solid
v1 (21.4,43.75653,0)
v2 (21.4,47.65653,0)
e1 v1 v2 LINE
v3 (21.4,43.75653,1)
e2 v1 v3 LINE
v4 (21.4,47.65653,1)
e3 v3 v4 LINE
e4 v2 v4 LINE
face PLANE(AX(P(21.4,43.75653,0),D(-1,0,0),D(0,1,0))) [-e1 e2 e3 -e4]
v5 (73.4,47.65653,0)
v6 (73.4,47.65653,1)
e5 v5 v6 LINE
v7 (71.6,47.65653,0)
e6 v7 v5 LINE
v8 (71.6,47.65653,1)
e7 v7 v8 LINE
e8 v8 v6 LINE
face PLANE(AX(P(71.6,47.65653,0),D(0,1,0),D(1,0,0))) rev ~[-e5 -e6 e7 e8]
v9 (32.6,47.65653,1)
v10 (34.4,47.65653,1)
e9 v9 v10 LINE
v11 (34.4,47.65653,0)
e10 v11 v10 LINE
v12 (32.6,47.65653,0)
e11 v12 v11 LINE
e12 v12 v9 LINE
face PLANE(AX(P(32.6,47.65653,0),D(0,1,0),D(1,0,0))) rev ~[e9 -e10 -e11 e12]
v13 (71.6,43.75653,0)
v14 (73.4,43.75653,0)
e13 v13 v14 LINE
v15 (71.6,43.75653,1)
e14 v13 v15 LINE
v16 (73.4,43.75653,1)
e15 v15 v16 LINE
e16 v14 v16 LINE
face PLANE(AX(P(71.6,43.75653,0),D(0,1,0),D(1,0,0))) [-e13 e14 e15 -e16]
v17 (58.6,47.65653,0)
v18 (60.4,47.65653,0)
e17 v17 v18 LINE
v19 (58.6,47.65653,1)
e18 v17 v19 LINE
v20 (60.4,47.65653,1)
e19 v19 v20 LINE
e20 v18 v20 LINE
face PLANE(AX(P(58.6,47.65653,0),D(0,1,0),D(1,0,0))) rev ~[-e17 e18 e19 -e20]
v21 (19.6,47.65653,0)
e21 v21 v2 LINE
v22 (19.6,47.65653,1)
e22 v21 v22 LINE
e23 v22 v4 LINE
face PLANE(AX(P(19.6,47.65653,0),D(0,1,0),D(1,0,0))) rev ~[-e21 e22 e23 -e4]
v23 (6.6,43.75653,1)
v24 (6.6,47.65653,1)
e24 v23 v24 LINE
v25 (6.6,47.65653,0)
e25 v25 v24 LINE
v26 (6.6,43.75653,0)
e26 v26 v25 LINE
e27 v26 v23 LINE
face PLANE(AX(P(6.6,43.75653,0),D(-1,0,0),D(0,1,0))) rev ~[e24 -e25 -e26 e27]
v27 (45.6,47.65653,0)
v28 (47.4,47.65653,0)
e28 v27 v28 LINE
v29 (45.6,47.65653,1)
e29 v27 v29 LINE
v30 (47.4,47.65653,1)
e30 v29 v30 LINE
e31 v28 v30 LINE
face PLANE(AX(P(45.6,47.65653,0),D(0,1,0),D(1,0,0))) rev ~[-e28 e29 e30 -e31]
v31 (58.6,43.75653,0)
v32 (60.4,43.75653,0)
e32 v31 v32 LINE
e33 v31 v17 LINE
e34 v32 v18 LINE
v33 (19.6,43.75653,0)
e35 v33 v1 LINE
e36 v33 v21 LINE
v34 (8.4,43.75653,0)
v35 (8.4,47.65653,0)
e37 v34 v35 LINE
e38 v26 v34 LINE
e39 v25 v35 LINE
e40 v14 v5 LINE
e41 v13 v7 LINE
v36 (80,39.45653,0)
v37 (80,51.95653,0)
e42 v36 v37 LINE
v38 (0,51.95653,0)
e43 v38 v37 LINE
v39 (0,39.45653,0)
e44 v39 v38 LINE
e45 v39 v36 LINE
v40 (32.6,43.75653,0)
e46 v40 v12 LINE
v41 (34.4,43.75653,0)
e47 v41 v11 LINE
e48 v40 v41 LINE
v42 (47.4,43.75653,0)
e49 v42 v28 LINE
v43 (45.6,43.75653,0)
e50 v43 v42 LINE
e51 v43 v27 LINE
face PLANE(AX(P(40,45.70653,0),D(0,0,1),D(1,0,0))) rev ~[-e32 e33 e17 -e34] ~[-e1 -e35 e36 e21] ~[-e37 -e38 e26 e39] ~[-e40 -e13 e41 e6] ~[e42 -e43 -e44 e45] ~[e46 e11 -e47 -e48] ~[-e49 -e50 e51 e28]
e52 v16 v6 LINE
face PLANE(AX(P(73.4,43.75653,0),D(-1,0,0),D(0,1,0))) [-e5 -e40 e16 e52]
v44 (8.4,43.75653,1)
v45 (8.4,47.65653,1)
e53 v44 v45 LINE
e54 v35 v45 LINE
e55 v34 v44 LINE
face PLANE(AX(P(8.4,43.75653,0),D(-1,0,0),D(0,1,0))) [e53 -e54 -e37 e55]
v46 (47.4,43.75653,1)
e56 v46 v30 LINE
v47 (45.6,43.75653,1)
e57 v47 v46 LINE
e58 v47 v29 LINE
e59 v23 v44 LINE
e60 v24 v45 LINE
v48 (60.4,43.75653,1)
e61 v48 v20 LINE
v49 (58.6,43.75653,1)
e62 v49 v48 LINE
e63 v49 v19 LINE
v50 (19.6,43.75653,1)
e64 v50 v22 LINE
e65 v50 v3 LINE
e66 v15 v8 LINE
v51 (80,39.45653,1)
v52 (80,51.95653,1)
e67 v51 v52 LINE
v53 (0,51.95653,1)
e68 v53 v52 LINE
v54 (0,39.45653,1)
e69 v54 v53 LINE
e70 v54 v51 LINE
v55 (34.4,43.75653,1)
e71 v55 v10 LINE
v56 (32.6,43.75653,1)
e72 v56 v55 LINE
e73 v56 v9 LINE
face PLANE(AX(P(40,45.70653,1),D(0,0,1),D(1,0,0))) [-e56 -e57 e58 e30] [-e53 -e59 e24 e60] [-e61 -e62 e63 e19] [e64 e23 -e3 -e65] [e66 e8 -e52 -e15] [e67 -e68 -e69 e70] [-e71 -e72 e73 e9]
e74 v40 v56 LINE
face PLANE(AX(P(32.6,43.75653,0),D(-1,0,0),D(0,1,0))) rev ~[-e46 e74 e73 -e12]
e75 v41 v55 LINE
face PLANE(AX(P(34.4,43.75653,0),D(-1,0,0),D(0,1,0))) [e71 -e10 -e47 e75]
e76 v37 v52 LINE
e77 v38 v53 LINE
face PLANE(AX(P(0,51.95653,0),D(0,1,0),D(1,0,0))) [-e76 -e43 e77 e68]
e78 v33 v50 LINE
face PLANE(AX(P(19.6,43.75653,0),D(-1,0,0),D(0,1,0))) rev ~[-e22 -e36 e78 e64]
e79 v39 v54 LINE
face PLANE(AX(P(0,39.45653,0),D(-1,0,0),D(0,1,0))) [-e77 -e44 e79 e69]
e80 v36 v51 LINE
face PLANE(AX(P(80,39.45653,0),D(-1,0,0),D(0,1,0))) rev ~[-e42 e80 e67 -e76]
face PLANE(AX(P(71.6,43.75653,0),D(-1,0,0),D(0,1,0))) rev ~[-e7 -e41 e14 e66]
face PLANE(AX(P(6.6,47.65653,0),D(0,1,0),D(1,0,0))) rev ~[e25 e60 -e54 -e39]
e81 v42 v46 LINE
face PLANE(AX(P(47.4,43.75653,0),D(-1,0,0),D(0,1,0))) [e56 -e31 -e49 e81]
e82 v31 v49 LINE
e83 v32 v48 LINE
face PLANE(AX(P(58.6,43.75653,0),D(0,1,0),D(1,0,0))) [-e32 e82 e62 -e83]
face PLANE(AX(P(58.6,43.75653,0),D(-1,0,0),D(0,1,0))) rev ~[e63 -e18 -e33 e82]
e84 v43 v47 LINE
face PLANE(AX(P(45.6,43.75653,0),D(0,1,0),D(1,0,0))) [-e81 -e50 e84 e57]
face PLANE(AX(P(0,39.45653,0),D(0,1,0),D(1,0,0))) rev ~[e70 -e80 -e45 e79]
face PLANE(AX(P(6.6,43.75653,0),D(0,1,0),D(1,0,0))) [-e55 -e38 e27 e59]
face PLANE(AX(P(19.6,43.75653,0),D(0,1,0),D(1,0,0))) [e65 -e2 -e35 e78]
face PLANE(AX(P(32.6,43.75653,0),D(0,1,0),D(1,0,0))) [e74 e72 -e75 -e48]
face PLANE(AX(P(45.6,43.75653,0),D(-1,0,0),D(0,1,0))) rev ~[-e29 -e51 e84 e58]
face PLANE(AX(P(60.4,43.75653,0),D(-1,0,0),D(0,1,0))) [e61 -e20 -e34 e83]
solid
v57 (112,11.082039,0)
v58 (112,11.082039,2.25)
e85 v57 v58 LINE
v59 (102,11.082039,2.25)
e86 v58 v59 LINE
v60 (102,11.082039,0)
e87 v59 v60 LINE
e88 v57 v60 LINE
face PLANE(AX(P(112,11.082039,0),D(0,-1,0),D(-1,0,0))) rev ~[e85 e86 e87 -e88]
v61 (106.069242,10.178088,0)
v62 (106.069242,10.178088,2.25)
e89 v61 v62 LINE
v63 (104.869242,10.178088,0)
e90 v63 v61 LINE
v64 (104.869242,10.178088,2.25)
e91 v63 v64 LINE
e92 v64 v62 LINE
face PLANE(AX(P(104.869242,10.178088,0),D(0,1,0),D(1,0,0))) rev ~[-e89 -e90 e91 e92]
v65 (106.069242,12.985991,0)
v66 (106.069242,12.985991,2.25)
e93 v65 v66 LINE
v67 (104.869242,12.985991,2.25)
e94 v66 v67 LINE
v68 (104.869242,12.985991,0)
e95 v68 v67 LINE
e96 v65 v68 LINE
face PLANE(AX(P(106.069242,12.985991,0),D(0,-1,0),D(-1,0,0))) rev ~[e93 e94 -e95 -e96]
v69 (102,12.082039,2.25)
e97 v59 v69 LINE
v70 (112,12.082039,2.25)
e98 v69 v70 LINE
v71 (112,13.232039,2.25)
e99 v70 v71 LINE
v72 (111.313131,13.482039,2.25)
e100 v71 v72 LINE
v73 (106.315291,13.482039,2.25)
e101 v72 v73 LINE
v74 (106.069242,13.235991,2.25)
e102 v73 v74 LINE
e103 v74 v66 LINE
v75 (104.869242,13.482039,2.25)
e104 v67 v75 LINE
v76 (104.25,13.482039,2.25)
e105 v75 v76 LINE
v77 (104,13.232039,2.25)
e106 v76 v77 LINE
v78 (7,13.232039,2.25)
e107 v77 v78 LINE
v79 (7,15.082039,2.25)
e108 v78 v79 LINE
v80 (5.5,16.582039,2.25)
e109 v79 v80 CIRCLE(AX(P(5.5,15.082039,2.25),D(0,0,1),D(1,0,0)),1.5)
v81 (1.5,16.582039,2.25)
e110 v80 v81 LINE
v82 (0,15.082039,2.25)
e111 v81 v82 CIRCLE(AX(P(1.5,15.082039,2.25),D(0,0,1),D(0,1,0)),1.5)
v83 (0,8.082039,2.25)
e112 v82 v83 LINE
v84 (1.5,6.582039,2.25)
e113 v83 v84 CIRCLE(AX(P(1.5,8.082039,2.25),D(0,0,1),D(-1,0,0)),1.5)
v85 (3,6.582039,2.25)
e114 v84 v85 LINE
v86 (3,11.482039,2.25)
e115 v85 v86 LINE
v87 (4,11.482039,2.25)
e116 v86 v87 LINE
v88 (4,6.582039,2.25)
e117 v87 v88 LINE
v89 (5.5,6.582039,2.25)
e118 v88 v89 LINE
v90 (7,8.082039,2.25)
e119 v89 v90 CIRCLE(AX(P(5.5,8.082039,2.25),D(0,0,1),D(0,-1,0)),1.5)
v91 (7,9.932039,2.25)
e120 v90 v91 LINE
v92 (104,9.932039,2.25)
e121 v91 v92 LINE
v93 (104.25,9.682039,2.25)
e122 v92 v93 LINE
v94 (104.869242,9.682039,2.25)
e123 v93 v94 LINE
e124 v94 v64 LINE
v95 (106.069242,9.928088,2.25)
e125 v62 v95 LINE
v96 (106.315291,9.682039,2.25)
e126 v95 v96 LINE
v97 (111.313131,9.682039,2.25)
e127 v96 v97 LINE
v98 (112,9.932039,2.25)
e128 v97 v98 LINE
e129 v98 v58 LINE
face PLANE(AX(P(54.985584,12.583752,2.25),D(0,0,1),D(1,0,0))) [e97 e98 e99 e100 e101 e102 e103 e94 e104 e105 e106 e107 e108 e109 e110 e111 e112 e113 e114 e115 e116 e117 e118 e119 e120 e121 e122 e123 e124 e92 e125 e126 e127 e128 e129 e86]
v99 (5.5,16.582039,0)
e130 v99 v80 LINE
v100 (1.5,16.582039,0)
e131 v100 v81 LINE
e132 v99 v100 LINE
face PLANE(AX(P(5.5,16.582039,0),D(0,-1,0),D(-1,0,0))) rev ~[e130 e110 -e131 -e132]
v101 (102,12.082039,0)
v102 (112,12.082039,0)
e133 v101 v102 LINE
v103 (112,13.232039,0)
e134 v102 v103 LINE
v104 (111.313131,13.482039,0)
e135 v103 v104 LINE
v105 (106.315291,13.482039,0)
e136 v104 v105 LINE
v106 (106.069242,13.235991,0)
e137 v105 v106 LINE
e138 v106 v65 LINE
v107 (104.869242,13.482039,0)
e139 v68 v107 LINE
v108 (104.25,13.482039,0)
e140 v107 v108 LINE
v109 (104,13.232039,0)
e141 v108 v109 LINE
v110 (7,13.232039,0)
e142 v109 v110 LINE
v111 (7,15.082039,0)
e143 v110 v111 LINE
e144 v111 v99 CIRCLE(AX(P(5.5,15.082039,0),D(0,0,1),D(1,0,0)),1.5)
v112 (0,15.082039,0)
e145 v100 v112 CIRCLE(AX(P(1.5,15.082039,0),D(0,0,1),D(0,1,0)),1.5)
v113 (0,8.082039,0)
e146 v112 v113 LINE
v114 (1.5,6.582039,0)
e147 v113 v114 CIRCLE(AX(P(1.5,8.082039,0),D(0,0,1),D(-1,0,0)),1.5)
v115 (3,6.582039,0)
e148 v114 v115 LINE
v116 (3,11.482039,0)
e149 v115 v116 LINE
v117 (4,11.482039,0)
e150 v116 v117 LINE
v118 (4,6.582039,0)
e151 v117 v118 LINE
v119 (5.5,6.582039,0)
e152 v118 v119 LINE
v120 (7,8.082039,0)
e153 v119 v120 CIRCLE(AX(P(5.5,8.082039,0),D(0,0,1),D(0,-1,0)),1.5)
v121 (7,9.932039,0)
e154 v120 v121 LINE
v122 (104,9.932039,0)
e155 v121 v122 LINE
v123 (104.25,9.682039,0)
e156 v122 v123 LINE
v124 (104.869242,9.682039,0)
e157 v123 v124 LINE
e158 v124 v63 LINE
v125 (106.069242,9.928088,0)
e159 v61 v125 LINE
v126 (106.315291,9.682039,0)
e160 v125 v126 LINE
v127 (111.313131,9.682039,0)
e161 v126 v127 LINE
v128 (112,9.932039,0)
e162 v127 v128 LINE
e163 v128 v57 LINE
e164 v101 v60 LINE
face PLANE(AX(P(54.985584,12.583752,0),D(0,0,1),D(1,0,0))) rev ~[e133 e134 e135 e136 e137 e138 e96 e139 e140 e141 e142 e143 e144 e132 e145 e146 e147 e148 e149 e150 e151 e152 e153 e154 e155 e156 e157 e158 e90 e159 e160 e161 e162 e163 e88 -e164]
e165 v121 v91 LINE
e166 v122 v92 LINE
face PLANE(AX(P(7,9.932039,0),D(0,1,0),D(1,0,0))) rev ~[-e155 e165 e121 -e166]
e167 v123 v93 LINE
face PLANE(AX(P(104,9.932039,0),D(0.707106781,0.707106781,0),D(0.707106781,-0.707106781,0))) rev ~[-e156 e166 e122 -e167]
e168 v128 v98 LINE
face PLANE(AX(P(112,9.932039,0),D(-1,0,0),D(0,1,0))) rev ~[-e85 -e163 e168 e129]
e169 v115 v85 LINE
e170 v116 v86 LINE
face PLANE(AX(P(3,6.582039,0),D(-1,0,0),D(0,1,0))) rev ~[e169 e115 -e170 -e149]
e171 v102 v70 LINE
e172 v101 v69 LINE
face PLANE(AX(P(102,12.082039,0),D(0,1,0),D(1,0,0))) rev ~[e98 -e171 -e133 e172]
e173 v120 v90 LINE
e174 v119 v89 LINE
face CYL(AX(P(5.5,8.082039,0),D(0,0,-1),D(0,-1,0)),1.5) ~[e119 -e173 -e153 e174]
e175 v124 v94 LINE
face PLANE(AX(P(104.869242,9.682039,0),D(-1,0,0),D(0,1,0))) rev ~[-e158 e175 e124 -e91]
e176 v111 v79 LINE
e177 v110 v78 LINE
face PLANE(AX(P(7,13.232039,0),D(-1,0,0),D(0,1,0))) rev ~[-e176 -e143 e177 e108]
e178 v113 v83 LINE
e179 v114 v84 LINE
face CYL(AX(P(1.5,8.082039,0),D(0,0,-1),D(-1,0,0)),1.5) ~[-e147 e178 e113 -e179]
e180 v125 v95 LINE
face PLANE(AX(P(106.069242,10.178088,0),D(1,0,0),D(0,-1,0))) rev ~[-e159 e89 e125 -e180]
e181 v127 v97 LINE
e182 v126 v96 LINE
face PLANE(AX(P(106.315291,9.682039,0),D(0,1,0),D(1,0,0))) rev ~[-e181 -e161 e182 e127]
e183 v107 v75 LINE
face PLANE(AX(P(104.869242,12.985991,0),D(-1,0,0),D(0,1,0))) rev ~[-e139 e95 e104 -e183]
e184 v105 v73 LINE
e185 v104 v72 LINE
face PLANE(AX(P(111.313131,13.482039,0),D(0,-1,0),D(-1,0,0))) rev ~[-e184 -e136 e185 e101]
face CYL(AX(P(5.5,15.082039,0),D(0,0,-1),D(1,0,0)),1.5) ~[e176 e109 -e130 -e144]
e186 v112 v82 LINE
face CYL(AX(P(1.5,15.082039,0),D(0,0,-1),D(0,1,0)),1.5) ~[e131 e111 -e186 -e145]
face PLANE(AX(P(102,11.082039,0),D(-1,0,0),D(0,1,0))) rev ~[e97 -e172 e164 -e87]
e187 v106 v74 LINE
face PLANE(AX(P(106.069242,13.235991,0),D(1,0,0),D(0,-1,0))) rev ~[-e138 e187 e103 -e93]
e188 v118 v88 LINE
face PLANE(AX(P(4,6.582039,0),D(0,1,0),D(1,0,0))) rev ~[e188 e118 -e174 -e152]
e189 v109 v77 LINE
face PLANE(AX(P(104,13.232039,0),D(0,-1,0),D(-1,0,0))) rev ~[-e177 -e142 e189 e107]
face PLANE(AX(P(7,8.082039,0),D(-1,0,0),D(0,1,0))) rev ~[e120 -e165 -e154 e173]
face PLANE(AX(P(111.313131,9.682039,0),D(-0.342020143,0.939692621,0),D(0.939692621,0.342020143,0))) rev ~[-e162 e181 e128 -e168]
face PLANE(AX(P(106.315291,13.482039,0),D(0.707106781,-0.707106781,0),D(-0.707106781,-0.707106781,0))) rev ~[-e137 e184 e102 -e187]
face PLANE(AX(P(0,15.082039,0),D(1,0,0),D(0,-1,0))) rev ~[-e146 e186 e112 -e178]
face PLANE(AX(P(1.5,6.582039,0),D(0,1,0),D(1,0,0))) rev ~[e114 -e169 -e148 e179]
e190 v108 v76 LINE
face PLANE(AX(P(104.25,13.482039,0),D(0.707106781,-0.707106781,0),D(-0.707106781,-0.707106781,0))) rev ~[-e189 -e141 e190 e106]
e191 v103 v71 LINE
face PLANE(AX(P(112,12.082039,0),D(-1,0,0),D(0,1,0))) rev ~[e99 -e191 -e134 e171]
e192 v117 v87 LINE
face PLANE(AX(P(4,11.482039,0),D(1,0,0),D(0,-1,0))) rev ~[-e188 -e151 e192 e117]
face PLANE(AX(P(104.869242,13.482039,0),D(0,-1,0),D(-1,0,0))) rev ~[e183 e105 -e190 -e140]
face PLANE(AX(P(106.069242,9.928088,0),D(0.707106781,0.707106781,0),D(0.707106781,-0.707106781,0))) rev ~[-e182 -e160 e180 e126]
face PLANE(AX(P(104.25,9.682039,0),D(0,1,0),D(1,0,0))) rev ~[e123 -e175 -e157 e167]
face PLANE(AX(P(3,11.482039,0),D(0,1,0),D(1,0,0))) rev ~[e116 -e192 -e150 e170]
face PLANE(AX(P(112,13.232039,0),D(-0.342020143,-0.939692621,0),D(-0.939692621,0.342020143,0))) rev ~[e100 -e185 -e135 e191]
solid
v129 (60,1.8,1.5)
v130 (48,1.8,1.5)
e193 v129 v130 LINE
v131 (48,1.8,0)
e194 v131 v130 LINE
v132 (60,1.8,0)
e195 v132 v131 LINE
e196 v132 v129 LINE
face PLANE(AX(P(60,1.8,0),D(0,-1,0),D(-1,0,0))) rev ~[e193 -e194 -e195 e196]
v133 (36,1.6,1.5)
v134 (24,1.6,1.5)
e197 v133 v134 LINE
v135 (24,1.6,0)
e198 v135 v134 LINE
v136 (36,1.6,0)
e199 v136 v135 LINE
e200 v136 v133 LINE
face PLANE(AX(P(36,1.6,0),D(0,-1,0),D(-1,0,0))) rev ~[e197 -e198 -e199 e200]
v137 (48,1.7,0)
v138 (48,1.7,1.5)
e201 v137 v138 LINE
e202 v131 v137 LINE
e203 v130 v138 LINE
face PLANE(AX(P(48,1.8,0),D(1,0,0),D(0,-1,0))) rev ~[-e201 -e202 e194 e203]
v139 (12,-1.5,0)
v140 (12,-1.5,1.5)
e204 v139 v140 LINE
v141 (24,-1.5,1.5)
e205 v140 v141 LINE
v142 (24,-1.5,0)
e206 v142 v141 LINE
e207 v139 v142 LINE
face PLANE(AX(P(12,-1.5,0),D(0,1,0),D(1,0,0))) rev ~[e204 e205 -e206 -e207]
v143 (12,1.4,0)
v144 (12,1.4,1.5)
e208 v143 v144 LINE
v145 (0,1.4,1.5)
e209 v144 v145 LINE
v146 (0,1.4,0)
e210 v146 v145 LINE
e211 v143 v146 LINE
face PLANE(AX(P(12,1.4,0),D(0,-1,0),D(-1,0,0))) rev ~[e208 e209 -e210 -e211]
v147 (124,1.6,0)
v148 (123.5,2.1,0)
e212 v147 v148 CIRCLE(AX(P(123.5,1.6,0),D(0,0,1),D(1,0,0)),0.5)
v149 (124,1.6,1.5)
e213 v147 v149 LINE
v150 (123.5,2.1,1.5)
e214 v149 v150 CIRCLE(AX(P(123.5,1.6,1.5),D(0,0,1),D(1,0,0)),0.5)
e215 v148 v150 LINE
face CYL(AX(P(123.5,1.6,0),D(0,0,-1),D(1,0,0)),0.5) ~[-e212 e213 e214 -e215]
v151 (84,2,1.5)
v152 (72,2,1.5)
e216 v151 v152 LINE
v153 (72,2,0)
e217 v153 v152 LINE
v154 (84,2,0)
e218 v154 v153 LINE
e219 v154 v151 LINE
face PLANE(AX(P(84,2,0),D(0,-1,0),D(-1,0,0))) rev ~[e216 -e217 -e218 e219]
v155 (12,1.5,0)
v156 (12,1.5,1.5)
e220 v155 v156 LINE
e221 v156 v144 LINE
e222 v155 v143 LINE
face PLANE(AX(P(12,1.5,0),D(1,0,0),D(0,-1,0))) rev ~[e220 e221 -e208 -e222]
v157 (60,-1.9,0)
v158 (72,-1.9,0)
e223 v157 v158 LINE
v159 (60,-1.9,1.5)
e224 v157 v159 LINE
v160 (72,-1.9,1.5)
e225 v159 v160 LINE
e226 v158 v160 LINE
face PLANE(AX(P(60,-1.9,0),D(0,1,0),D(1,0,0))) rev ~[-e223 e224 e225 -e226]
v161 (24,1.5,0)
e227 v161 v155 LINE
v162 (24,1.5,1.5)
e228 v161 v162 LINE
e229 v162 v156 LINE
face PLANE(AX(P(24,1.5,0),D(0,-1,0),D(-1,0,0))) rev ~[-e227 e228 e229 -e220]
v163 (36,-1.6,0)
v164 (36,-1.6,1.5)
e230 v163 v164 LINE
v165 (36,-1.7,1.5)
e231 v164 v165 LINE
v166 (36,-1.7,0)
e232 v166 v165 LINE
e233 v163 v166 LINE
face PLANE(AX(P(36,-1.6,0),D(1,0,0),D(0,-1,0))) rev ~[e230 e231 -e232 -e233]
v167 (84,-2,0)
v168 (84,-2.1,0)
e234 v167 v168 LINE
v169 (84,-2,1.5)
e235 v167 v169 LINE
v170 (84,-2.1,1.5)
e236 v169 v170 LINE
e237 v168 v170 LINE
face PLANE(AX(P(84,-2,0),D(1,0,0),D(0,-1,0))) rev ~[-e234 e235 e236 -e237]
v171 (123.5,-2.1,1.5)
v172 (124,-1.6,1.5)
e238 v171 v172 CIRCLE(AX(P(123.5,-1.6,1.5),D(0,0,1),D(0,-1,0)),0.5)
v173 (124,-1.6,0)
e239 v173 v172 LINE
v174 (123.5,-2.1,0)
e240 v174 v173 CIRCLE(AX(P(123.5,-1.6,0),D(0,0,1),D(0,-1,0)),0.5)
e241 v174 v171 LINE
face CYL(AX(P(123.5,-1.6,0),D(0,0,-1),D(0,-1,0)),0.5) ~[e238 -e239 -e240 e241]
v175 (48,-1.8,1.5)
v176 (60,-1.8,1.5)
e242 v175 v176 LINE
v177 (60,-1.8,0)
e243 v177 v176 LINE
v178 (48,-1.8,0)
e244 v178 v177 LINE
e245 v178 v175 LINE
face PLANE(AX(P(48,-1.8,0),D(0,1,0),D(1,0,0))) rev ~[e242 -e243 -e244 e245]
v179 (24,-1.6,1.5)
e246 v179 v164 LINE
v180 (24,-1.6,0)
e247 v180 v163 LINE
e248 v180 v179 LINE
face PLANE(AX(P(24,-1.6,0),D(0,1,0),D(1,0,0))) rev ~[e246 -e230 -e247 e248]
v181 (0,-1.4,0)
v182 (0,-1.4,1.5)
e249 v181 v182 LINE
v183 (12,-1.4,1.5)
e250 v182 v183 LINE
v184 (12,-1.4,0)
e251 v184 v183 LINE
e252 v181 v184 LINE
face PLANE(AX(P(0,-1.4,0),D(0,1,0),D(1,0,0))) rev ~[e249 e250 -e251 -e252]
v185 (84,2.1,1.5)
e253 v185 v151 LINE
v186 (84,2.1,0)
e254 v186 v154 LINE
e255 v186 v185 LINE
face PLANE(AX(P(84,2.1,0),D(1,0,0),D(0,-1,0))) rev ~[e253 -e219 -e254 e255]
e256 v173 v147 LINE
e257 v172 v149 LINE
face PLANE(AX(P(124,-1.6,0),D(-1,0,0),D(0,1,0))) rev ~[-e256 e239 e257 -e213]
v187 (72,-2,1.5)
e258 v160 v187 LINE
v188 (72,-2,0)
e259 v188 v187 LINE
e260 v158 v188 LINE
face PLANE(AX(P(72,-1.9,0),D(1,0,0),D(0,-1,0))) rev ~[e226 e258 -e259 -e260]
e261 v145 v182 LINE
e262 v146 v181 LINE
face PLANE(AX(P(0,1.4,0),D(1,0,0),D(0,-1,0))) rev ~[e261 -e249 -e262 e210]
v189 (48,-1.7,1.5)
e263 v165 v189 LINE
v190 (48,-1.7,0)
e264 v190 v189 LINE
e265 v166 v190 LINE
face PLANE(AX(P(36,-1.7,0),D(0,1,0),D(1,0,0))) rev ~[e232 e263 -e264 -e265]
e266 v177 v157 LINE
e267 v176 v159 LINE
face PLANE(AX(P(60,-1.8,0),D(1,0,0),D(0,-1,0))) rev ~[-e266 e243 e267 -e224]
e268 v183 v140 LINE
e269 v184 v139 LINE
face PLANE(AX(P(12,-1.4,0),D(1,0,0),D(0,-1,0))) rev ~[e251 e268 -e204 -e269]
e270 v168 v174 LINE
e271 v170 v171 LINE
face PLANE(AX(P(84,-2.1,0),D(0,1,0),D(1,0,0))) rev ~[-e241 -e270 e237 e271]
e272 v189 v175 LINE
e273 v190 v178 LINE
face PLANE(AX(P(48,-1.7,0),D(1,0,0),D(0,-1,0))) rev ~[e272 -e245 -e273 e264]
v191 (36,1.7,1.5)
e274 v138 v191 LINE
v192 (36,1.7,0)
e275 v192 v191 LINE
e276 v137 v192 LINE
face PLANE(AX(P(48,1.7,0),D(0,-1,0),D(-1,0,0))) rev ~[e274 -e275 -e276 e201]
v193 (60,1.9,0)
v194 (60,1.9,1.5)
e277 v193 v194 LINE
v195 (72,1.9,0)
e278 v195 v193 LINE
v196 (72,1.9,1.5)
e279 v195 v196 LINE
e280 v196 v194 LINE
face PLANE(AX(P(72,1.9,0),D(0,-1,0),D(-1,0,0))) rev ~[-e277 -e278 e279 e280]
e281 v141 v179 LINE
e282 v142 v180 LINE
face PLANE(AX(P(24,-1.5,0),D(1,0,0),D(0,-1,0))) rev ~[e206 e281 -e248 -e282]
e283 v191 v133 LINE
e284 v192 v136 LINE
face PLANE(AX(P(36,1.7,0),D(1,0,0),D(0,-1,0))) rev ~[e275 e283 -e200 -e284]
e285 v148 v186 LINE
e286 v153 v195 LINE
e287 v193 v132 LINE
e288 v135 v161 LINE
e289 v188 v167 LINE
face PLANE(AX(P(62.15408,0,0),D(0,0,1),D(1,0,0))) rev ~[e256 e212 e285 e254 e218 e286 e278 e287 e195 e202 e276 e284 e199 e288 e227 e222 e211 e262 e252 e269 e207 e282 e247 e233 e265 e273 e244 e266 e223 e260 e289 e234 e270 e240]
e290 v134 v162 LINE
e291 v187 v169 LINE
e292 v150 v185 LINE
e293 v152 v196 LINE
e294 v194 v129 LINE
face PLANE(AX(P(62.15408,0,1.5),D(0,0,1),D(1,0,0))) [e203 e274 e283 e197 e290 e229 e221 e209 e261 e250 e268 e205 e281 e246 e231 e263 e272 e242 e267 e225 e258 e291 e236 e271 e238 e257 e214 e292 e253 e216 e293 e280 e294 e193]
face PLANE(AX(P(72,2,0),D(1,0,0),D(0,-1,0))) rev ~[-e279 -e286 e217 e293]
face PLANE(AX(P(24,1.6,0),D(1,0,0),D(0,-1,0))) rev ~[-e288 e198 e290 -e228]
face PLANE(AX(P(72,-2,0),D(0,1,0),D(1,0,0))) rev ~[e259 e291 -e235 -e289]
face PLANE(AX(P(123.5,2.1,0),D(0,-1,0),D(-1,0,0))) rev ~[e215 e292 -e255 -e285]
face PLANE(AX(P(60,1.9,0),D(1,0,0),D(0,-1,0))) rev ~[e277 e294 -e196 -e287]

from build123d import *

# Parameters (mm, degrees)
F0_W     = 1
F0_H     = 1
F0_W_2   = 12
F0_W_3   = 8
F0_H_2   = 0.1
F1_DEPTH = 1.5
F2_DEPTH = 2.25
F3_W     = 80
F3_H     = 12.5
F3_W_2   = 1.8
F3_H_2   = 3.9
F4_DEPTH = 1


with BuildPart() as f1:
    # F0 (on Top) → F1 (new body)
    with BuildSketch(Plane.XY):
        with BuildLine():
            Line((0, 1.4), (0, 0))
            Line((0, 0), (0, -1.4))
            Line((0, -1.4), (12, -1.4))
            Line((12, -1.4), (12, -1.5))
            Line((12, -1.5), (24, -1.5))
            Line((24, -1.5), (24, -1.6))
            Line((24, -1.6), (36, -1.6))
            Line((36, -1.6), (36, -1.7))
            Line((36, -1.7), (48, -1.7))
            Line((48, -1.7), (48, -1.8))
            Line((48, -1.8), (60, -1.8))
            Line((60, -1.8), (60, -1.9))
            Line((60, -1.9), (72, -1.9))
            Line((72, -1.9), (72, -2))
            Line((72, -2), (84, -2))
            Line((84, -2), (84, -2.1))
            Line((84, -2.1), (123.5, -2.1))
            ThreePointArc((123.5, -2.1), (123.8535533906, -1.9535533906), (124, -1.6))
            Line((124, -1.6), (124, 0))
            Line((124, 0), (124, 1.6))
            ThreePointArc((124, 1.6), (123.8535533906, 1.9535533906), (123.5, 2.1))
            Line((123.5, 2.1), (84, 2.1))
            Line((84, 2.1), (84, 2))
            Line((84, 2), (72, 2))
            Line((72, 2), (72, 1.9))
            Line((72, 1.9), (60, 1.9))
            Line((60, 1.9), (60, 1.8))
            Line((60, 1.8), (48, 1.8))
            Line((48, 1.8), (48, 1.7))
            Line((48, 1.7), (36, 1.7))
            Line((36, 1.7), (36, 1.6))
            Line((36, 1.6), (24, 1.6))
            Line((24, 1.6), (24, 1.5))
            Line((24, 1.5), (12, 1.5))
            Line((12, 1.5), (12, 1.4))
            Line((12, 1.4), (0, 1.4))
        make_face()
        Polygon((61, -0.8), (49, -0.8), (49, -0.7), (17, -0.7), (17, -0.6), (16, -0.6), (16, -0.5), (4, -0.5), (4, 0.5), (16, 0.5), (16, 0.6), (17, 0.6), (17, 0.7), (49, 0.7), (49, 0.8), (61, 0.8), align=None, mode=Mode.SUBTRACT)
        Polygon((85, -1), (73, -1), (73, -0.9), (62, -0.9), (62, 0.9), (73, 0.9), (73, 1), (85, 1), align=None, mode=Mode.SUBTRACT)
        Polygon((123, -1.1), (86, -1.1), (86, 1.1), (123, 1.1), (123, 0.95), (123, 0.45), (123, -0.45), (123, -0.95), align=None, mode=Mode.SUBTRACT)
        with Locations((16.5, 0)):
            Rectangle(F0_W, F0_H)
        with Locations((10, 0)):
            Rectangle(F0_W_2, F0_H)
        with Locations((21, 0.55)):
            Rectangle(F0_W_3, F0_H_2)
        with Locations((21, -0.55)):
            Rectangle(F0_W_3, F0_H_2)
        with Locations((16.5, -0.55)):
            Rectangle(F0_W, F0_H_2)
        with Locations((16.5, 0.55)):
            Rectangle(F0_W, F0_H_2)
        Polygon((49, -0.7), (49, -0.8), (61, -0.8), (61, 0.8), (49, 0.8), (49, 0.7), (17, 0.7), (17, 0.6), (25, 0.6), (25, 0.5), (17, 0.5), (17, -0.5), (25, -0.5), (25, -0.6), (17, -0.6), (17, -0.7), align=None)
        Polygon((86, 1.1), (86, -1.1), (123, -1.1), (123, -0.95), (123, -0.45), (123, 0.45), (123, 0.95), (123, 1.1), align=None)
        Polygon((73, -0.9), (73, -1), (85, -1), (85, 1), (73, 1), (73, 0.9), (62, 0.9), (62, -0.9), align=None)
    extrude(amount=F1_DEPTH)


with BuildPart() as f1b:
    # F0 (on Top) → F1, piece 2 (new body)
    with BuildSketch(Plane.XY):
        with BuildLine():
            Line((0, 11.5820394844), (0, 8.0820394844))
            ThreePointArc((0, 8.0820394844), (0.4393398282, 7.0213793126), (1.5, 6.5820394844))
            Line((1.5, 6.5820394844), (3, 6.5820394844))
            Line((3, 6.5820394844), (3, 11.4820394844))
            Line((3, 11.4820394844), (4, 11.4820394844))
            Line((4, 11.4820394844), (4, 6.5820394844))
            Line((4, 6.5820394844), (5.5, 6.5820394844))
            ThreePointArc((5.5, 6.5820394844), (6.5606601718, 7.0213793126), (7, 8.0820394844))
            Line((7, 8.0820394844), (7, 9.9320394844))
            Line((7, 9.9320394844), (104, 9.9320394844))
            Line((104, 9.9320394844), (104.25, 9.6820394844))
            Line((104.25, 9.6820394844), (104.8692424178, 9.6820394844))
            Line((104.8692424178, 9.6820394844), (104.8692424178, 9.9280877039))
            Line((104.8692424178, 9.9280877039), (104.8692424178, 10.1780877039))
            Line((104.8692424178, 10.1780877039), (106.0692424178, 10.1780877039))
            Line((106.0692424178, 10.1780877039), (106.0692424178, 9.9280877039))
            Line((106.0692424178, 9.9280877039), (106.3152906373, 9.6820394844))
            Line((106.3152906373, 9.6820394844), (111.3131306451, 9.6820394844))
            Line((111.3131306451, 9.6820394844), (112, 9.9320394844))
            Line((112, 9.9320394844), (112, 11.0820394844))
            Line((112, 11.0820394844), (102, 11.0820394844))
            Line((102, 11.0820394844), (102, 11.5820394844))
            Line((102, 11.5820394844), (0, 11.5820394844))
        make_face()
    extrude(amount=F1_DEPTH)

    # F0 (on Top) → F2 (join)
    with BuildSketch(Plane.XY):
        with BuildLine():
            Line((0, 15.0820394844), (0, 11.5820394844))
            Line((0, 11.5820394844), (102, 11.5820394844))
            Line((102, 11.5820394844), (102, 12.0820394844))
            Line((102, 12.0820394844), (112, 12.0820394844))
            Line((112, 12.0820394844), (112, 13.2320394844))
            Line((112, 13.2320394844), (111.3131306451, 13.4820394844))
            Line((111.3131306451, 13.4820394844), (106.3152906373, 13.4820394844))
            Line((106.3152906373, 13.4820394844), (106.0692424178, 13.2359912649))
            Line((106.0692424178, 13.2359912649), (106.0692424178, 12.9859912649))
            Line((106.0692424178, 12.9859912649), (104.8692424178, 12.9859912649))
            Line((104.8692424178, 12.9859912649), (104.8692424178, 13.2359912649))
            Line((104.8692424178, 13.2359912649), (104.8692424178, 13.4820394844))
            Line((104.8692424178, 13.4820394844), (104.25, 13.4820394844))
            Line((104.25, 13.4820394844), (104, 13.2320394844))
            Line((104, 13.2320394844), (7, 13.2320394844))
            Line((7, 13.2320394844), (7, 15.0820394844))
            ThreePointArc((7, 15.0820394844), (6.5606601718, 16.1426996562), (5.5, 16.5820394844))
            Line((5.5, 16.5820394844), (1.5, 16.5820394844))
            ThreePointArc((1.5, 16.5820394844), (0.4393398282, 16.1426996562), (0, 15.0820394844))
        make_face()
        with BuildLine():
            Line((0, 11.5820394844), (0, 8.0820394844))
            ThreePointArc((0, 8.0820394844), (0.4393398282, 7.0213793126), (1.5, 6.5820394844))
            Line((1.5, 6.5820394844), (3, 6.5820394844))
            Line((3, 6.5820394844), (3, 11.4820394844))
            Line((3, 11.4820394844), (4, 11.4820394844))
            Line((4, 11.4820394844), (4, 6.5820394844))
            Line((4, 6.5820394844), (5.5, 6.5820394844))
            ThreePointArc((5.5, 6.5820394844), (6.5606601718, 7.0213793126), (7, 8.0820394844))
            Line((7, 8.0820394844), (7, 9.9320394844))
            Line((7, 9.9320394844), (104, 9.9320394844))
            Line((104, 9.9320394844), (104.25, 9.6820394844))
            Line((104.25, 9.6820394844), (104.8692424178, 9.6820394844))
            Line((104.8692424178, 9.6820394844), (104.8692424178, 9.9280877039))
            Line((104.8692424178, 9.9280877039), (104.8692424178, 10.1780877039))
            Line((104.8692424178, 10.1780877039), (106.0692424178, 10.1780877039))
            Line((106.0692424178, 10.1780877039), (106.0692424178, 9.9280877039))
            Line((106.0692424178, 9.9280877039), (106.3152906373, 9.6820394844))
            Line((106.3152906373, 9.6820394844), (111.3131306451, 9.6820394844))
            Line((111.3131306451, 9.6820394844), (112, 9.9320394844))
            Line((112, 9.9320394844), (112, 11.0820394844))
            Line((112, 11.0820394844), (102, 11.0820394844))
            Line((102, 11.0820394844), (102, 11.5820394844))
            Line((102, 11.5820394844), (0, 11.5820394844))
        make_face()
    extrude(amount=F2_DEPTH)


with BuildPart() as f4:
    # F3 (on Top) → F4 (new body)
    with BuildSketch(Plane.XY):
        with Locations((40, 45.7065304632)):
            Rectangle(F3_W, F3_H)
        with Locations((7.5, 45.7065304632)):
            Rectangle(F3_W_2, F3_H_2, mode=Mode.SUBTRACT)
        with Locations((20.5, 45.7065304632)):
            Rectangle(F3_W_2, F3_H_2, mode=Mode.SUBTRACT)
        with Locations((33.5, 45.7065304632)):
            Rectangle(F3_W_2, F3_H_2, mode=Mode.SUBTRACT)
        with Locations((46.5, 45.7065304632)):
            Rectangle(F3_W_2, F3_H_2, mode=Mode.SUBTRACT)
        with Locations((59.5, 45.7065304632)):
            Rectangle(F3_W_2, F3_H_2, mode=Mode.SUBTRACT)
        with Locations((72.5, 45.7065304632)):
            Rectangle(F3_W_2, F3_H_2, mode=Mode.SUBTRACT)
    extrude(amount=F4_DEPTH)


solid = Compound([f1.part, f1b.part, f4.part])
